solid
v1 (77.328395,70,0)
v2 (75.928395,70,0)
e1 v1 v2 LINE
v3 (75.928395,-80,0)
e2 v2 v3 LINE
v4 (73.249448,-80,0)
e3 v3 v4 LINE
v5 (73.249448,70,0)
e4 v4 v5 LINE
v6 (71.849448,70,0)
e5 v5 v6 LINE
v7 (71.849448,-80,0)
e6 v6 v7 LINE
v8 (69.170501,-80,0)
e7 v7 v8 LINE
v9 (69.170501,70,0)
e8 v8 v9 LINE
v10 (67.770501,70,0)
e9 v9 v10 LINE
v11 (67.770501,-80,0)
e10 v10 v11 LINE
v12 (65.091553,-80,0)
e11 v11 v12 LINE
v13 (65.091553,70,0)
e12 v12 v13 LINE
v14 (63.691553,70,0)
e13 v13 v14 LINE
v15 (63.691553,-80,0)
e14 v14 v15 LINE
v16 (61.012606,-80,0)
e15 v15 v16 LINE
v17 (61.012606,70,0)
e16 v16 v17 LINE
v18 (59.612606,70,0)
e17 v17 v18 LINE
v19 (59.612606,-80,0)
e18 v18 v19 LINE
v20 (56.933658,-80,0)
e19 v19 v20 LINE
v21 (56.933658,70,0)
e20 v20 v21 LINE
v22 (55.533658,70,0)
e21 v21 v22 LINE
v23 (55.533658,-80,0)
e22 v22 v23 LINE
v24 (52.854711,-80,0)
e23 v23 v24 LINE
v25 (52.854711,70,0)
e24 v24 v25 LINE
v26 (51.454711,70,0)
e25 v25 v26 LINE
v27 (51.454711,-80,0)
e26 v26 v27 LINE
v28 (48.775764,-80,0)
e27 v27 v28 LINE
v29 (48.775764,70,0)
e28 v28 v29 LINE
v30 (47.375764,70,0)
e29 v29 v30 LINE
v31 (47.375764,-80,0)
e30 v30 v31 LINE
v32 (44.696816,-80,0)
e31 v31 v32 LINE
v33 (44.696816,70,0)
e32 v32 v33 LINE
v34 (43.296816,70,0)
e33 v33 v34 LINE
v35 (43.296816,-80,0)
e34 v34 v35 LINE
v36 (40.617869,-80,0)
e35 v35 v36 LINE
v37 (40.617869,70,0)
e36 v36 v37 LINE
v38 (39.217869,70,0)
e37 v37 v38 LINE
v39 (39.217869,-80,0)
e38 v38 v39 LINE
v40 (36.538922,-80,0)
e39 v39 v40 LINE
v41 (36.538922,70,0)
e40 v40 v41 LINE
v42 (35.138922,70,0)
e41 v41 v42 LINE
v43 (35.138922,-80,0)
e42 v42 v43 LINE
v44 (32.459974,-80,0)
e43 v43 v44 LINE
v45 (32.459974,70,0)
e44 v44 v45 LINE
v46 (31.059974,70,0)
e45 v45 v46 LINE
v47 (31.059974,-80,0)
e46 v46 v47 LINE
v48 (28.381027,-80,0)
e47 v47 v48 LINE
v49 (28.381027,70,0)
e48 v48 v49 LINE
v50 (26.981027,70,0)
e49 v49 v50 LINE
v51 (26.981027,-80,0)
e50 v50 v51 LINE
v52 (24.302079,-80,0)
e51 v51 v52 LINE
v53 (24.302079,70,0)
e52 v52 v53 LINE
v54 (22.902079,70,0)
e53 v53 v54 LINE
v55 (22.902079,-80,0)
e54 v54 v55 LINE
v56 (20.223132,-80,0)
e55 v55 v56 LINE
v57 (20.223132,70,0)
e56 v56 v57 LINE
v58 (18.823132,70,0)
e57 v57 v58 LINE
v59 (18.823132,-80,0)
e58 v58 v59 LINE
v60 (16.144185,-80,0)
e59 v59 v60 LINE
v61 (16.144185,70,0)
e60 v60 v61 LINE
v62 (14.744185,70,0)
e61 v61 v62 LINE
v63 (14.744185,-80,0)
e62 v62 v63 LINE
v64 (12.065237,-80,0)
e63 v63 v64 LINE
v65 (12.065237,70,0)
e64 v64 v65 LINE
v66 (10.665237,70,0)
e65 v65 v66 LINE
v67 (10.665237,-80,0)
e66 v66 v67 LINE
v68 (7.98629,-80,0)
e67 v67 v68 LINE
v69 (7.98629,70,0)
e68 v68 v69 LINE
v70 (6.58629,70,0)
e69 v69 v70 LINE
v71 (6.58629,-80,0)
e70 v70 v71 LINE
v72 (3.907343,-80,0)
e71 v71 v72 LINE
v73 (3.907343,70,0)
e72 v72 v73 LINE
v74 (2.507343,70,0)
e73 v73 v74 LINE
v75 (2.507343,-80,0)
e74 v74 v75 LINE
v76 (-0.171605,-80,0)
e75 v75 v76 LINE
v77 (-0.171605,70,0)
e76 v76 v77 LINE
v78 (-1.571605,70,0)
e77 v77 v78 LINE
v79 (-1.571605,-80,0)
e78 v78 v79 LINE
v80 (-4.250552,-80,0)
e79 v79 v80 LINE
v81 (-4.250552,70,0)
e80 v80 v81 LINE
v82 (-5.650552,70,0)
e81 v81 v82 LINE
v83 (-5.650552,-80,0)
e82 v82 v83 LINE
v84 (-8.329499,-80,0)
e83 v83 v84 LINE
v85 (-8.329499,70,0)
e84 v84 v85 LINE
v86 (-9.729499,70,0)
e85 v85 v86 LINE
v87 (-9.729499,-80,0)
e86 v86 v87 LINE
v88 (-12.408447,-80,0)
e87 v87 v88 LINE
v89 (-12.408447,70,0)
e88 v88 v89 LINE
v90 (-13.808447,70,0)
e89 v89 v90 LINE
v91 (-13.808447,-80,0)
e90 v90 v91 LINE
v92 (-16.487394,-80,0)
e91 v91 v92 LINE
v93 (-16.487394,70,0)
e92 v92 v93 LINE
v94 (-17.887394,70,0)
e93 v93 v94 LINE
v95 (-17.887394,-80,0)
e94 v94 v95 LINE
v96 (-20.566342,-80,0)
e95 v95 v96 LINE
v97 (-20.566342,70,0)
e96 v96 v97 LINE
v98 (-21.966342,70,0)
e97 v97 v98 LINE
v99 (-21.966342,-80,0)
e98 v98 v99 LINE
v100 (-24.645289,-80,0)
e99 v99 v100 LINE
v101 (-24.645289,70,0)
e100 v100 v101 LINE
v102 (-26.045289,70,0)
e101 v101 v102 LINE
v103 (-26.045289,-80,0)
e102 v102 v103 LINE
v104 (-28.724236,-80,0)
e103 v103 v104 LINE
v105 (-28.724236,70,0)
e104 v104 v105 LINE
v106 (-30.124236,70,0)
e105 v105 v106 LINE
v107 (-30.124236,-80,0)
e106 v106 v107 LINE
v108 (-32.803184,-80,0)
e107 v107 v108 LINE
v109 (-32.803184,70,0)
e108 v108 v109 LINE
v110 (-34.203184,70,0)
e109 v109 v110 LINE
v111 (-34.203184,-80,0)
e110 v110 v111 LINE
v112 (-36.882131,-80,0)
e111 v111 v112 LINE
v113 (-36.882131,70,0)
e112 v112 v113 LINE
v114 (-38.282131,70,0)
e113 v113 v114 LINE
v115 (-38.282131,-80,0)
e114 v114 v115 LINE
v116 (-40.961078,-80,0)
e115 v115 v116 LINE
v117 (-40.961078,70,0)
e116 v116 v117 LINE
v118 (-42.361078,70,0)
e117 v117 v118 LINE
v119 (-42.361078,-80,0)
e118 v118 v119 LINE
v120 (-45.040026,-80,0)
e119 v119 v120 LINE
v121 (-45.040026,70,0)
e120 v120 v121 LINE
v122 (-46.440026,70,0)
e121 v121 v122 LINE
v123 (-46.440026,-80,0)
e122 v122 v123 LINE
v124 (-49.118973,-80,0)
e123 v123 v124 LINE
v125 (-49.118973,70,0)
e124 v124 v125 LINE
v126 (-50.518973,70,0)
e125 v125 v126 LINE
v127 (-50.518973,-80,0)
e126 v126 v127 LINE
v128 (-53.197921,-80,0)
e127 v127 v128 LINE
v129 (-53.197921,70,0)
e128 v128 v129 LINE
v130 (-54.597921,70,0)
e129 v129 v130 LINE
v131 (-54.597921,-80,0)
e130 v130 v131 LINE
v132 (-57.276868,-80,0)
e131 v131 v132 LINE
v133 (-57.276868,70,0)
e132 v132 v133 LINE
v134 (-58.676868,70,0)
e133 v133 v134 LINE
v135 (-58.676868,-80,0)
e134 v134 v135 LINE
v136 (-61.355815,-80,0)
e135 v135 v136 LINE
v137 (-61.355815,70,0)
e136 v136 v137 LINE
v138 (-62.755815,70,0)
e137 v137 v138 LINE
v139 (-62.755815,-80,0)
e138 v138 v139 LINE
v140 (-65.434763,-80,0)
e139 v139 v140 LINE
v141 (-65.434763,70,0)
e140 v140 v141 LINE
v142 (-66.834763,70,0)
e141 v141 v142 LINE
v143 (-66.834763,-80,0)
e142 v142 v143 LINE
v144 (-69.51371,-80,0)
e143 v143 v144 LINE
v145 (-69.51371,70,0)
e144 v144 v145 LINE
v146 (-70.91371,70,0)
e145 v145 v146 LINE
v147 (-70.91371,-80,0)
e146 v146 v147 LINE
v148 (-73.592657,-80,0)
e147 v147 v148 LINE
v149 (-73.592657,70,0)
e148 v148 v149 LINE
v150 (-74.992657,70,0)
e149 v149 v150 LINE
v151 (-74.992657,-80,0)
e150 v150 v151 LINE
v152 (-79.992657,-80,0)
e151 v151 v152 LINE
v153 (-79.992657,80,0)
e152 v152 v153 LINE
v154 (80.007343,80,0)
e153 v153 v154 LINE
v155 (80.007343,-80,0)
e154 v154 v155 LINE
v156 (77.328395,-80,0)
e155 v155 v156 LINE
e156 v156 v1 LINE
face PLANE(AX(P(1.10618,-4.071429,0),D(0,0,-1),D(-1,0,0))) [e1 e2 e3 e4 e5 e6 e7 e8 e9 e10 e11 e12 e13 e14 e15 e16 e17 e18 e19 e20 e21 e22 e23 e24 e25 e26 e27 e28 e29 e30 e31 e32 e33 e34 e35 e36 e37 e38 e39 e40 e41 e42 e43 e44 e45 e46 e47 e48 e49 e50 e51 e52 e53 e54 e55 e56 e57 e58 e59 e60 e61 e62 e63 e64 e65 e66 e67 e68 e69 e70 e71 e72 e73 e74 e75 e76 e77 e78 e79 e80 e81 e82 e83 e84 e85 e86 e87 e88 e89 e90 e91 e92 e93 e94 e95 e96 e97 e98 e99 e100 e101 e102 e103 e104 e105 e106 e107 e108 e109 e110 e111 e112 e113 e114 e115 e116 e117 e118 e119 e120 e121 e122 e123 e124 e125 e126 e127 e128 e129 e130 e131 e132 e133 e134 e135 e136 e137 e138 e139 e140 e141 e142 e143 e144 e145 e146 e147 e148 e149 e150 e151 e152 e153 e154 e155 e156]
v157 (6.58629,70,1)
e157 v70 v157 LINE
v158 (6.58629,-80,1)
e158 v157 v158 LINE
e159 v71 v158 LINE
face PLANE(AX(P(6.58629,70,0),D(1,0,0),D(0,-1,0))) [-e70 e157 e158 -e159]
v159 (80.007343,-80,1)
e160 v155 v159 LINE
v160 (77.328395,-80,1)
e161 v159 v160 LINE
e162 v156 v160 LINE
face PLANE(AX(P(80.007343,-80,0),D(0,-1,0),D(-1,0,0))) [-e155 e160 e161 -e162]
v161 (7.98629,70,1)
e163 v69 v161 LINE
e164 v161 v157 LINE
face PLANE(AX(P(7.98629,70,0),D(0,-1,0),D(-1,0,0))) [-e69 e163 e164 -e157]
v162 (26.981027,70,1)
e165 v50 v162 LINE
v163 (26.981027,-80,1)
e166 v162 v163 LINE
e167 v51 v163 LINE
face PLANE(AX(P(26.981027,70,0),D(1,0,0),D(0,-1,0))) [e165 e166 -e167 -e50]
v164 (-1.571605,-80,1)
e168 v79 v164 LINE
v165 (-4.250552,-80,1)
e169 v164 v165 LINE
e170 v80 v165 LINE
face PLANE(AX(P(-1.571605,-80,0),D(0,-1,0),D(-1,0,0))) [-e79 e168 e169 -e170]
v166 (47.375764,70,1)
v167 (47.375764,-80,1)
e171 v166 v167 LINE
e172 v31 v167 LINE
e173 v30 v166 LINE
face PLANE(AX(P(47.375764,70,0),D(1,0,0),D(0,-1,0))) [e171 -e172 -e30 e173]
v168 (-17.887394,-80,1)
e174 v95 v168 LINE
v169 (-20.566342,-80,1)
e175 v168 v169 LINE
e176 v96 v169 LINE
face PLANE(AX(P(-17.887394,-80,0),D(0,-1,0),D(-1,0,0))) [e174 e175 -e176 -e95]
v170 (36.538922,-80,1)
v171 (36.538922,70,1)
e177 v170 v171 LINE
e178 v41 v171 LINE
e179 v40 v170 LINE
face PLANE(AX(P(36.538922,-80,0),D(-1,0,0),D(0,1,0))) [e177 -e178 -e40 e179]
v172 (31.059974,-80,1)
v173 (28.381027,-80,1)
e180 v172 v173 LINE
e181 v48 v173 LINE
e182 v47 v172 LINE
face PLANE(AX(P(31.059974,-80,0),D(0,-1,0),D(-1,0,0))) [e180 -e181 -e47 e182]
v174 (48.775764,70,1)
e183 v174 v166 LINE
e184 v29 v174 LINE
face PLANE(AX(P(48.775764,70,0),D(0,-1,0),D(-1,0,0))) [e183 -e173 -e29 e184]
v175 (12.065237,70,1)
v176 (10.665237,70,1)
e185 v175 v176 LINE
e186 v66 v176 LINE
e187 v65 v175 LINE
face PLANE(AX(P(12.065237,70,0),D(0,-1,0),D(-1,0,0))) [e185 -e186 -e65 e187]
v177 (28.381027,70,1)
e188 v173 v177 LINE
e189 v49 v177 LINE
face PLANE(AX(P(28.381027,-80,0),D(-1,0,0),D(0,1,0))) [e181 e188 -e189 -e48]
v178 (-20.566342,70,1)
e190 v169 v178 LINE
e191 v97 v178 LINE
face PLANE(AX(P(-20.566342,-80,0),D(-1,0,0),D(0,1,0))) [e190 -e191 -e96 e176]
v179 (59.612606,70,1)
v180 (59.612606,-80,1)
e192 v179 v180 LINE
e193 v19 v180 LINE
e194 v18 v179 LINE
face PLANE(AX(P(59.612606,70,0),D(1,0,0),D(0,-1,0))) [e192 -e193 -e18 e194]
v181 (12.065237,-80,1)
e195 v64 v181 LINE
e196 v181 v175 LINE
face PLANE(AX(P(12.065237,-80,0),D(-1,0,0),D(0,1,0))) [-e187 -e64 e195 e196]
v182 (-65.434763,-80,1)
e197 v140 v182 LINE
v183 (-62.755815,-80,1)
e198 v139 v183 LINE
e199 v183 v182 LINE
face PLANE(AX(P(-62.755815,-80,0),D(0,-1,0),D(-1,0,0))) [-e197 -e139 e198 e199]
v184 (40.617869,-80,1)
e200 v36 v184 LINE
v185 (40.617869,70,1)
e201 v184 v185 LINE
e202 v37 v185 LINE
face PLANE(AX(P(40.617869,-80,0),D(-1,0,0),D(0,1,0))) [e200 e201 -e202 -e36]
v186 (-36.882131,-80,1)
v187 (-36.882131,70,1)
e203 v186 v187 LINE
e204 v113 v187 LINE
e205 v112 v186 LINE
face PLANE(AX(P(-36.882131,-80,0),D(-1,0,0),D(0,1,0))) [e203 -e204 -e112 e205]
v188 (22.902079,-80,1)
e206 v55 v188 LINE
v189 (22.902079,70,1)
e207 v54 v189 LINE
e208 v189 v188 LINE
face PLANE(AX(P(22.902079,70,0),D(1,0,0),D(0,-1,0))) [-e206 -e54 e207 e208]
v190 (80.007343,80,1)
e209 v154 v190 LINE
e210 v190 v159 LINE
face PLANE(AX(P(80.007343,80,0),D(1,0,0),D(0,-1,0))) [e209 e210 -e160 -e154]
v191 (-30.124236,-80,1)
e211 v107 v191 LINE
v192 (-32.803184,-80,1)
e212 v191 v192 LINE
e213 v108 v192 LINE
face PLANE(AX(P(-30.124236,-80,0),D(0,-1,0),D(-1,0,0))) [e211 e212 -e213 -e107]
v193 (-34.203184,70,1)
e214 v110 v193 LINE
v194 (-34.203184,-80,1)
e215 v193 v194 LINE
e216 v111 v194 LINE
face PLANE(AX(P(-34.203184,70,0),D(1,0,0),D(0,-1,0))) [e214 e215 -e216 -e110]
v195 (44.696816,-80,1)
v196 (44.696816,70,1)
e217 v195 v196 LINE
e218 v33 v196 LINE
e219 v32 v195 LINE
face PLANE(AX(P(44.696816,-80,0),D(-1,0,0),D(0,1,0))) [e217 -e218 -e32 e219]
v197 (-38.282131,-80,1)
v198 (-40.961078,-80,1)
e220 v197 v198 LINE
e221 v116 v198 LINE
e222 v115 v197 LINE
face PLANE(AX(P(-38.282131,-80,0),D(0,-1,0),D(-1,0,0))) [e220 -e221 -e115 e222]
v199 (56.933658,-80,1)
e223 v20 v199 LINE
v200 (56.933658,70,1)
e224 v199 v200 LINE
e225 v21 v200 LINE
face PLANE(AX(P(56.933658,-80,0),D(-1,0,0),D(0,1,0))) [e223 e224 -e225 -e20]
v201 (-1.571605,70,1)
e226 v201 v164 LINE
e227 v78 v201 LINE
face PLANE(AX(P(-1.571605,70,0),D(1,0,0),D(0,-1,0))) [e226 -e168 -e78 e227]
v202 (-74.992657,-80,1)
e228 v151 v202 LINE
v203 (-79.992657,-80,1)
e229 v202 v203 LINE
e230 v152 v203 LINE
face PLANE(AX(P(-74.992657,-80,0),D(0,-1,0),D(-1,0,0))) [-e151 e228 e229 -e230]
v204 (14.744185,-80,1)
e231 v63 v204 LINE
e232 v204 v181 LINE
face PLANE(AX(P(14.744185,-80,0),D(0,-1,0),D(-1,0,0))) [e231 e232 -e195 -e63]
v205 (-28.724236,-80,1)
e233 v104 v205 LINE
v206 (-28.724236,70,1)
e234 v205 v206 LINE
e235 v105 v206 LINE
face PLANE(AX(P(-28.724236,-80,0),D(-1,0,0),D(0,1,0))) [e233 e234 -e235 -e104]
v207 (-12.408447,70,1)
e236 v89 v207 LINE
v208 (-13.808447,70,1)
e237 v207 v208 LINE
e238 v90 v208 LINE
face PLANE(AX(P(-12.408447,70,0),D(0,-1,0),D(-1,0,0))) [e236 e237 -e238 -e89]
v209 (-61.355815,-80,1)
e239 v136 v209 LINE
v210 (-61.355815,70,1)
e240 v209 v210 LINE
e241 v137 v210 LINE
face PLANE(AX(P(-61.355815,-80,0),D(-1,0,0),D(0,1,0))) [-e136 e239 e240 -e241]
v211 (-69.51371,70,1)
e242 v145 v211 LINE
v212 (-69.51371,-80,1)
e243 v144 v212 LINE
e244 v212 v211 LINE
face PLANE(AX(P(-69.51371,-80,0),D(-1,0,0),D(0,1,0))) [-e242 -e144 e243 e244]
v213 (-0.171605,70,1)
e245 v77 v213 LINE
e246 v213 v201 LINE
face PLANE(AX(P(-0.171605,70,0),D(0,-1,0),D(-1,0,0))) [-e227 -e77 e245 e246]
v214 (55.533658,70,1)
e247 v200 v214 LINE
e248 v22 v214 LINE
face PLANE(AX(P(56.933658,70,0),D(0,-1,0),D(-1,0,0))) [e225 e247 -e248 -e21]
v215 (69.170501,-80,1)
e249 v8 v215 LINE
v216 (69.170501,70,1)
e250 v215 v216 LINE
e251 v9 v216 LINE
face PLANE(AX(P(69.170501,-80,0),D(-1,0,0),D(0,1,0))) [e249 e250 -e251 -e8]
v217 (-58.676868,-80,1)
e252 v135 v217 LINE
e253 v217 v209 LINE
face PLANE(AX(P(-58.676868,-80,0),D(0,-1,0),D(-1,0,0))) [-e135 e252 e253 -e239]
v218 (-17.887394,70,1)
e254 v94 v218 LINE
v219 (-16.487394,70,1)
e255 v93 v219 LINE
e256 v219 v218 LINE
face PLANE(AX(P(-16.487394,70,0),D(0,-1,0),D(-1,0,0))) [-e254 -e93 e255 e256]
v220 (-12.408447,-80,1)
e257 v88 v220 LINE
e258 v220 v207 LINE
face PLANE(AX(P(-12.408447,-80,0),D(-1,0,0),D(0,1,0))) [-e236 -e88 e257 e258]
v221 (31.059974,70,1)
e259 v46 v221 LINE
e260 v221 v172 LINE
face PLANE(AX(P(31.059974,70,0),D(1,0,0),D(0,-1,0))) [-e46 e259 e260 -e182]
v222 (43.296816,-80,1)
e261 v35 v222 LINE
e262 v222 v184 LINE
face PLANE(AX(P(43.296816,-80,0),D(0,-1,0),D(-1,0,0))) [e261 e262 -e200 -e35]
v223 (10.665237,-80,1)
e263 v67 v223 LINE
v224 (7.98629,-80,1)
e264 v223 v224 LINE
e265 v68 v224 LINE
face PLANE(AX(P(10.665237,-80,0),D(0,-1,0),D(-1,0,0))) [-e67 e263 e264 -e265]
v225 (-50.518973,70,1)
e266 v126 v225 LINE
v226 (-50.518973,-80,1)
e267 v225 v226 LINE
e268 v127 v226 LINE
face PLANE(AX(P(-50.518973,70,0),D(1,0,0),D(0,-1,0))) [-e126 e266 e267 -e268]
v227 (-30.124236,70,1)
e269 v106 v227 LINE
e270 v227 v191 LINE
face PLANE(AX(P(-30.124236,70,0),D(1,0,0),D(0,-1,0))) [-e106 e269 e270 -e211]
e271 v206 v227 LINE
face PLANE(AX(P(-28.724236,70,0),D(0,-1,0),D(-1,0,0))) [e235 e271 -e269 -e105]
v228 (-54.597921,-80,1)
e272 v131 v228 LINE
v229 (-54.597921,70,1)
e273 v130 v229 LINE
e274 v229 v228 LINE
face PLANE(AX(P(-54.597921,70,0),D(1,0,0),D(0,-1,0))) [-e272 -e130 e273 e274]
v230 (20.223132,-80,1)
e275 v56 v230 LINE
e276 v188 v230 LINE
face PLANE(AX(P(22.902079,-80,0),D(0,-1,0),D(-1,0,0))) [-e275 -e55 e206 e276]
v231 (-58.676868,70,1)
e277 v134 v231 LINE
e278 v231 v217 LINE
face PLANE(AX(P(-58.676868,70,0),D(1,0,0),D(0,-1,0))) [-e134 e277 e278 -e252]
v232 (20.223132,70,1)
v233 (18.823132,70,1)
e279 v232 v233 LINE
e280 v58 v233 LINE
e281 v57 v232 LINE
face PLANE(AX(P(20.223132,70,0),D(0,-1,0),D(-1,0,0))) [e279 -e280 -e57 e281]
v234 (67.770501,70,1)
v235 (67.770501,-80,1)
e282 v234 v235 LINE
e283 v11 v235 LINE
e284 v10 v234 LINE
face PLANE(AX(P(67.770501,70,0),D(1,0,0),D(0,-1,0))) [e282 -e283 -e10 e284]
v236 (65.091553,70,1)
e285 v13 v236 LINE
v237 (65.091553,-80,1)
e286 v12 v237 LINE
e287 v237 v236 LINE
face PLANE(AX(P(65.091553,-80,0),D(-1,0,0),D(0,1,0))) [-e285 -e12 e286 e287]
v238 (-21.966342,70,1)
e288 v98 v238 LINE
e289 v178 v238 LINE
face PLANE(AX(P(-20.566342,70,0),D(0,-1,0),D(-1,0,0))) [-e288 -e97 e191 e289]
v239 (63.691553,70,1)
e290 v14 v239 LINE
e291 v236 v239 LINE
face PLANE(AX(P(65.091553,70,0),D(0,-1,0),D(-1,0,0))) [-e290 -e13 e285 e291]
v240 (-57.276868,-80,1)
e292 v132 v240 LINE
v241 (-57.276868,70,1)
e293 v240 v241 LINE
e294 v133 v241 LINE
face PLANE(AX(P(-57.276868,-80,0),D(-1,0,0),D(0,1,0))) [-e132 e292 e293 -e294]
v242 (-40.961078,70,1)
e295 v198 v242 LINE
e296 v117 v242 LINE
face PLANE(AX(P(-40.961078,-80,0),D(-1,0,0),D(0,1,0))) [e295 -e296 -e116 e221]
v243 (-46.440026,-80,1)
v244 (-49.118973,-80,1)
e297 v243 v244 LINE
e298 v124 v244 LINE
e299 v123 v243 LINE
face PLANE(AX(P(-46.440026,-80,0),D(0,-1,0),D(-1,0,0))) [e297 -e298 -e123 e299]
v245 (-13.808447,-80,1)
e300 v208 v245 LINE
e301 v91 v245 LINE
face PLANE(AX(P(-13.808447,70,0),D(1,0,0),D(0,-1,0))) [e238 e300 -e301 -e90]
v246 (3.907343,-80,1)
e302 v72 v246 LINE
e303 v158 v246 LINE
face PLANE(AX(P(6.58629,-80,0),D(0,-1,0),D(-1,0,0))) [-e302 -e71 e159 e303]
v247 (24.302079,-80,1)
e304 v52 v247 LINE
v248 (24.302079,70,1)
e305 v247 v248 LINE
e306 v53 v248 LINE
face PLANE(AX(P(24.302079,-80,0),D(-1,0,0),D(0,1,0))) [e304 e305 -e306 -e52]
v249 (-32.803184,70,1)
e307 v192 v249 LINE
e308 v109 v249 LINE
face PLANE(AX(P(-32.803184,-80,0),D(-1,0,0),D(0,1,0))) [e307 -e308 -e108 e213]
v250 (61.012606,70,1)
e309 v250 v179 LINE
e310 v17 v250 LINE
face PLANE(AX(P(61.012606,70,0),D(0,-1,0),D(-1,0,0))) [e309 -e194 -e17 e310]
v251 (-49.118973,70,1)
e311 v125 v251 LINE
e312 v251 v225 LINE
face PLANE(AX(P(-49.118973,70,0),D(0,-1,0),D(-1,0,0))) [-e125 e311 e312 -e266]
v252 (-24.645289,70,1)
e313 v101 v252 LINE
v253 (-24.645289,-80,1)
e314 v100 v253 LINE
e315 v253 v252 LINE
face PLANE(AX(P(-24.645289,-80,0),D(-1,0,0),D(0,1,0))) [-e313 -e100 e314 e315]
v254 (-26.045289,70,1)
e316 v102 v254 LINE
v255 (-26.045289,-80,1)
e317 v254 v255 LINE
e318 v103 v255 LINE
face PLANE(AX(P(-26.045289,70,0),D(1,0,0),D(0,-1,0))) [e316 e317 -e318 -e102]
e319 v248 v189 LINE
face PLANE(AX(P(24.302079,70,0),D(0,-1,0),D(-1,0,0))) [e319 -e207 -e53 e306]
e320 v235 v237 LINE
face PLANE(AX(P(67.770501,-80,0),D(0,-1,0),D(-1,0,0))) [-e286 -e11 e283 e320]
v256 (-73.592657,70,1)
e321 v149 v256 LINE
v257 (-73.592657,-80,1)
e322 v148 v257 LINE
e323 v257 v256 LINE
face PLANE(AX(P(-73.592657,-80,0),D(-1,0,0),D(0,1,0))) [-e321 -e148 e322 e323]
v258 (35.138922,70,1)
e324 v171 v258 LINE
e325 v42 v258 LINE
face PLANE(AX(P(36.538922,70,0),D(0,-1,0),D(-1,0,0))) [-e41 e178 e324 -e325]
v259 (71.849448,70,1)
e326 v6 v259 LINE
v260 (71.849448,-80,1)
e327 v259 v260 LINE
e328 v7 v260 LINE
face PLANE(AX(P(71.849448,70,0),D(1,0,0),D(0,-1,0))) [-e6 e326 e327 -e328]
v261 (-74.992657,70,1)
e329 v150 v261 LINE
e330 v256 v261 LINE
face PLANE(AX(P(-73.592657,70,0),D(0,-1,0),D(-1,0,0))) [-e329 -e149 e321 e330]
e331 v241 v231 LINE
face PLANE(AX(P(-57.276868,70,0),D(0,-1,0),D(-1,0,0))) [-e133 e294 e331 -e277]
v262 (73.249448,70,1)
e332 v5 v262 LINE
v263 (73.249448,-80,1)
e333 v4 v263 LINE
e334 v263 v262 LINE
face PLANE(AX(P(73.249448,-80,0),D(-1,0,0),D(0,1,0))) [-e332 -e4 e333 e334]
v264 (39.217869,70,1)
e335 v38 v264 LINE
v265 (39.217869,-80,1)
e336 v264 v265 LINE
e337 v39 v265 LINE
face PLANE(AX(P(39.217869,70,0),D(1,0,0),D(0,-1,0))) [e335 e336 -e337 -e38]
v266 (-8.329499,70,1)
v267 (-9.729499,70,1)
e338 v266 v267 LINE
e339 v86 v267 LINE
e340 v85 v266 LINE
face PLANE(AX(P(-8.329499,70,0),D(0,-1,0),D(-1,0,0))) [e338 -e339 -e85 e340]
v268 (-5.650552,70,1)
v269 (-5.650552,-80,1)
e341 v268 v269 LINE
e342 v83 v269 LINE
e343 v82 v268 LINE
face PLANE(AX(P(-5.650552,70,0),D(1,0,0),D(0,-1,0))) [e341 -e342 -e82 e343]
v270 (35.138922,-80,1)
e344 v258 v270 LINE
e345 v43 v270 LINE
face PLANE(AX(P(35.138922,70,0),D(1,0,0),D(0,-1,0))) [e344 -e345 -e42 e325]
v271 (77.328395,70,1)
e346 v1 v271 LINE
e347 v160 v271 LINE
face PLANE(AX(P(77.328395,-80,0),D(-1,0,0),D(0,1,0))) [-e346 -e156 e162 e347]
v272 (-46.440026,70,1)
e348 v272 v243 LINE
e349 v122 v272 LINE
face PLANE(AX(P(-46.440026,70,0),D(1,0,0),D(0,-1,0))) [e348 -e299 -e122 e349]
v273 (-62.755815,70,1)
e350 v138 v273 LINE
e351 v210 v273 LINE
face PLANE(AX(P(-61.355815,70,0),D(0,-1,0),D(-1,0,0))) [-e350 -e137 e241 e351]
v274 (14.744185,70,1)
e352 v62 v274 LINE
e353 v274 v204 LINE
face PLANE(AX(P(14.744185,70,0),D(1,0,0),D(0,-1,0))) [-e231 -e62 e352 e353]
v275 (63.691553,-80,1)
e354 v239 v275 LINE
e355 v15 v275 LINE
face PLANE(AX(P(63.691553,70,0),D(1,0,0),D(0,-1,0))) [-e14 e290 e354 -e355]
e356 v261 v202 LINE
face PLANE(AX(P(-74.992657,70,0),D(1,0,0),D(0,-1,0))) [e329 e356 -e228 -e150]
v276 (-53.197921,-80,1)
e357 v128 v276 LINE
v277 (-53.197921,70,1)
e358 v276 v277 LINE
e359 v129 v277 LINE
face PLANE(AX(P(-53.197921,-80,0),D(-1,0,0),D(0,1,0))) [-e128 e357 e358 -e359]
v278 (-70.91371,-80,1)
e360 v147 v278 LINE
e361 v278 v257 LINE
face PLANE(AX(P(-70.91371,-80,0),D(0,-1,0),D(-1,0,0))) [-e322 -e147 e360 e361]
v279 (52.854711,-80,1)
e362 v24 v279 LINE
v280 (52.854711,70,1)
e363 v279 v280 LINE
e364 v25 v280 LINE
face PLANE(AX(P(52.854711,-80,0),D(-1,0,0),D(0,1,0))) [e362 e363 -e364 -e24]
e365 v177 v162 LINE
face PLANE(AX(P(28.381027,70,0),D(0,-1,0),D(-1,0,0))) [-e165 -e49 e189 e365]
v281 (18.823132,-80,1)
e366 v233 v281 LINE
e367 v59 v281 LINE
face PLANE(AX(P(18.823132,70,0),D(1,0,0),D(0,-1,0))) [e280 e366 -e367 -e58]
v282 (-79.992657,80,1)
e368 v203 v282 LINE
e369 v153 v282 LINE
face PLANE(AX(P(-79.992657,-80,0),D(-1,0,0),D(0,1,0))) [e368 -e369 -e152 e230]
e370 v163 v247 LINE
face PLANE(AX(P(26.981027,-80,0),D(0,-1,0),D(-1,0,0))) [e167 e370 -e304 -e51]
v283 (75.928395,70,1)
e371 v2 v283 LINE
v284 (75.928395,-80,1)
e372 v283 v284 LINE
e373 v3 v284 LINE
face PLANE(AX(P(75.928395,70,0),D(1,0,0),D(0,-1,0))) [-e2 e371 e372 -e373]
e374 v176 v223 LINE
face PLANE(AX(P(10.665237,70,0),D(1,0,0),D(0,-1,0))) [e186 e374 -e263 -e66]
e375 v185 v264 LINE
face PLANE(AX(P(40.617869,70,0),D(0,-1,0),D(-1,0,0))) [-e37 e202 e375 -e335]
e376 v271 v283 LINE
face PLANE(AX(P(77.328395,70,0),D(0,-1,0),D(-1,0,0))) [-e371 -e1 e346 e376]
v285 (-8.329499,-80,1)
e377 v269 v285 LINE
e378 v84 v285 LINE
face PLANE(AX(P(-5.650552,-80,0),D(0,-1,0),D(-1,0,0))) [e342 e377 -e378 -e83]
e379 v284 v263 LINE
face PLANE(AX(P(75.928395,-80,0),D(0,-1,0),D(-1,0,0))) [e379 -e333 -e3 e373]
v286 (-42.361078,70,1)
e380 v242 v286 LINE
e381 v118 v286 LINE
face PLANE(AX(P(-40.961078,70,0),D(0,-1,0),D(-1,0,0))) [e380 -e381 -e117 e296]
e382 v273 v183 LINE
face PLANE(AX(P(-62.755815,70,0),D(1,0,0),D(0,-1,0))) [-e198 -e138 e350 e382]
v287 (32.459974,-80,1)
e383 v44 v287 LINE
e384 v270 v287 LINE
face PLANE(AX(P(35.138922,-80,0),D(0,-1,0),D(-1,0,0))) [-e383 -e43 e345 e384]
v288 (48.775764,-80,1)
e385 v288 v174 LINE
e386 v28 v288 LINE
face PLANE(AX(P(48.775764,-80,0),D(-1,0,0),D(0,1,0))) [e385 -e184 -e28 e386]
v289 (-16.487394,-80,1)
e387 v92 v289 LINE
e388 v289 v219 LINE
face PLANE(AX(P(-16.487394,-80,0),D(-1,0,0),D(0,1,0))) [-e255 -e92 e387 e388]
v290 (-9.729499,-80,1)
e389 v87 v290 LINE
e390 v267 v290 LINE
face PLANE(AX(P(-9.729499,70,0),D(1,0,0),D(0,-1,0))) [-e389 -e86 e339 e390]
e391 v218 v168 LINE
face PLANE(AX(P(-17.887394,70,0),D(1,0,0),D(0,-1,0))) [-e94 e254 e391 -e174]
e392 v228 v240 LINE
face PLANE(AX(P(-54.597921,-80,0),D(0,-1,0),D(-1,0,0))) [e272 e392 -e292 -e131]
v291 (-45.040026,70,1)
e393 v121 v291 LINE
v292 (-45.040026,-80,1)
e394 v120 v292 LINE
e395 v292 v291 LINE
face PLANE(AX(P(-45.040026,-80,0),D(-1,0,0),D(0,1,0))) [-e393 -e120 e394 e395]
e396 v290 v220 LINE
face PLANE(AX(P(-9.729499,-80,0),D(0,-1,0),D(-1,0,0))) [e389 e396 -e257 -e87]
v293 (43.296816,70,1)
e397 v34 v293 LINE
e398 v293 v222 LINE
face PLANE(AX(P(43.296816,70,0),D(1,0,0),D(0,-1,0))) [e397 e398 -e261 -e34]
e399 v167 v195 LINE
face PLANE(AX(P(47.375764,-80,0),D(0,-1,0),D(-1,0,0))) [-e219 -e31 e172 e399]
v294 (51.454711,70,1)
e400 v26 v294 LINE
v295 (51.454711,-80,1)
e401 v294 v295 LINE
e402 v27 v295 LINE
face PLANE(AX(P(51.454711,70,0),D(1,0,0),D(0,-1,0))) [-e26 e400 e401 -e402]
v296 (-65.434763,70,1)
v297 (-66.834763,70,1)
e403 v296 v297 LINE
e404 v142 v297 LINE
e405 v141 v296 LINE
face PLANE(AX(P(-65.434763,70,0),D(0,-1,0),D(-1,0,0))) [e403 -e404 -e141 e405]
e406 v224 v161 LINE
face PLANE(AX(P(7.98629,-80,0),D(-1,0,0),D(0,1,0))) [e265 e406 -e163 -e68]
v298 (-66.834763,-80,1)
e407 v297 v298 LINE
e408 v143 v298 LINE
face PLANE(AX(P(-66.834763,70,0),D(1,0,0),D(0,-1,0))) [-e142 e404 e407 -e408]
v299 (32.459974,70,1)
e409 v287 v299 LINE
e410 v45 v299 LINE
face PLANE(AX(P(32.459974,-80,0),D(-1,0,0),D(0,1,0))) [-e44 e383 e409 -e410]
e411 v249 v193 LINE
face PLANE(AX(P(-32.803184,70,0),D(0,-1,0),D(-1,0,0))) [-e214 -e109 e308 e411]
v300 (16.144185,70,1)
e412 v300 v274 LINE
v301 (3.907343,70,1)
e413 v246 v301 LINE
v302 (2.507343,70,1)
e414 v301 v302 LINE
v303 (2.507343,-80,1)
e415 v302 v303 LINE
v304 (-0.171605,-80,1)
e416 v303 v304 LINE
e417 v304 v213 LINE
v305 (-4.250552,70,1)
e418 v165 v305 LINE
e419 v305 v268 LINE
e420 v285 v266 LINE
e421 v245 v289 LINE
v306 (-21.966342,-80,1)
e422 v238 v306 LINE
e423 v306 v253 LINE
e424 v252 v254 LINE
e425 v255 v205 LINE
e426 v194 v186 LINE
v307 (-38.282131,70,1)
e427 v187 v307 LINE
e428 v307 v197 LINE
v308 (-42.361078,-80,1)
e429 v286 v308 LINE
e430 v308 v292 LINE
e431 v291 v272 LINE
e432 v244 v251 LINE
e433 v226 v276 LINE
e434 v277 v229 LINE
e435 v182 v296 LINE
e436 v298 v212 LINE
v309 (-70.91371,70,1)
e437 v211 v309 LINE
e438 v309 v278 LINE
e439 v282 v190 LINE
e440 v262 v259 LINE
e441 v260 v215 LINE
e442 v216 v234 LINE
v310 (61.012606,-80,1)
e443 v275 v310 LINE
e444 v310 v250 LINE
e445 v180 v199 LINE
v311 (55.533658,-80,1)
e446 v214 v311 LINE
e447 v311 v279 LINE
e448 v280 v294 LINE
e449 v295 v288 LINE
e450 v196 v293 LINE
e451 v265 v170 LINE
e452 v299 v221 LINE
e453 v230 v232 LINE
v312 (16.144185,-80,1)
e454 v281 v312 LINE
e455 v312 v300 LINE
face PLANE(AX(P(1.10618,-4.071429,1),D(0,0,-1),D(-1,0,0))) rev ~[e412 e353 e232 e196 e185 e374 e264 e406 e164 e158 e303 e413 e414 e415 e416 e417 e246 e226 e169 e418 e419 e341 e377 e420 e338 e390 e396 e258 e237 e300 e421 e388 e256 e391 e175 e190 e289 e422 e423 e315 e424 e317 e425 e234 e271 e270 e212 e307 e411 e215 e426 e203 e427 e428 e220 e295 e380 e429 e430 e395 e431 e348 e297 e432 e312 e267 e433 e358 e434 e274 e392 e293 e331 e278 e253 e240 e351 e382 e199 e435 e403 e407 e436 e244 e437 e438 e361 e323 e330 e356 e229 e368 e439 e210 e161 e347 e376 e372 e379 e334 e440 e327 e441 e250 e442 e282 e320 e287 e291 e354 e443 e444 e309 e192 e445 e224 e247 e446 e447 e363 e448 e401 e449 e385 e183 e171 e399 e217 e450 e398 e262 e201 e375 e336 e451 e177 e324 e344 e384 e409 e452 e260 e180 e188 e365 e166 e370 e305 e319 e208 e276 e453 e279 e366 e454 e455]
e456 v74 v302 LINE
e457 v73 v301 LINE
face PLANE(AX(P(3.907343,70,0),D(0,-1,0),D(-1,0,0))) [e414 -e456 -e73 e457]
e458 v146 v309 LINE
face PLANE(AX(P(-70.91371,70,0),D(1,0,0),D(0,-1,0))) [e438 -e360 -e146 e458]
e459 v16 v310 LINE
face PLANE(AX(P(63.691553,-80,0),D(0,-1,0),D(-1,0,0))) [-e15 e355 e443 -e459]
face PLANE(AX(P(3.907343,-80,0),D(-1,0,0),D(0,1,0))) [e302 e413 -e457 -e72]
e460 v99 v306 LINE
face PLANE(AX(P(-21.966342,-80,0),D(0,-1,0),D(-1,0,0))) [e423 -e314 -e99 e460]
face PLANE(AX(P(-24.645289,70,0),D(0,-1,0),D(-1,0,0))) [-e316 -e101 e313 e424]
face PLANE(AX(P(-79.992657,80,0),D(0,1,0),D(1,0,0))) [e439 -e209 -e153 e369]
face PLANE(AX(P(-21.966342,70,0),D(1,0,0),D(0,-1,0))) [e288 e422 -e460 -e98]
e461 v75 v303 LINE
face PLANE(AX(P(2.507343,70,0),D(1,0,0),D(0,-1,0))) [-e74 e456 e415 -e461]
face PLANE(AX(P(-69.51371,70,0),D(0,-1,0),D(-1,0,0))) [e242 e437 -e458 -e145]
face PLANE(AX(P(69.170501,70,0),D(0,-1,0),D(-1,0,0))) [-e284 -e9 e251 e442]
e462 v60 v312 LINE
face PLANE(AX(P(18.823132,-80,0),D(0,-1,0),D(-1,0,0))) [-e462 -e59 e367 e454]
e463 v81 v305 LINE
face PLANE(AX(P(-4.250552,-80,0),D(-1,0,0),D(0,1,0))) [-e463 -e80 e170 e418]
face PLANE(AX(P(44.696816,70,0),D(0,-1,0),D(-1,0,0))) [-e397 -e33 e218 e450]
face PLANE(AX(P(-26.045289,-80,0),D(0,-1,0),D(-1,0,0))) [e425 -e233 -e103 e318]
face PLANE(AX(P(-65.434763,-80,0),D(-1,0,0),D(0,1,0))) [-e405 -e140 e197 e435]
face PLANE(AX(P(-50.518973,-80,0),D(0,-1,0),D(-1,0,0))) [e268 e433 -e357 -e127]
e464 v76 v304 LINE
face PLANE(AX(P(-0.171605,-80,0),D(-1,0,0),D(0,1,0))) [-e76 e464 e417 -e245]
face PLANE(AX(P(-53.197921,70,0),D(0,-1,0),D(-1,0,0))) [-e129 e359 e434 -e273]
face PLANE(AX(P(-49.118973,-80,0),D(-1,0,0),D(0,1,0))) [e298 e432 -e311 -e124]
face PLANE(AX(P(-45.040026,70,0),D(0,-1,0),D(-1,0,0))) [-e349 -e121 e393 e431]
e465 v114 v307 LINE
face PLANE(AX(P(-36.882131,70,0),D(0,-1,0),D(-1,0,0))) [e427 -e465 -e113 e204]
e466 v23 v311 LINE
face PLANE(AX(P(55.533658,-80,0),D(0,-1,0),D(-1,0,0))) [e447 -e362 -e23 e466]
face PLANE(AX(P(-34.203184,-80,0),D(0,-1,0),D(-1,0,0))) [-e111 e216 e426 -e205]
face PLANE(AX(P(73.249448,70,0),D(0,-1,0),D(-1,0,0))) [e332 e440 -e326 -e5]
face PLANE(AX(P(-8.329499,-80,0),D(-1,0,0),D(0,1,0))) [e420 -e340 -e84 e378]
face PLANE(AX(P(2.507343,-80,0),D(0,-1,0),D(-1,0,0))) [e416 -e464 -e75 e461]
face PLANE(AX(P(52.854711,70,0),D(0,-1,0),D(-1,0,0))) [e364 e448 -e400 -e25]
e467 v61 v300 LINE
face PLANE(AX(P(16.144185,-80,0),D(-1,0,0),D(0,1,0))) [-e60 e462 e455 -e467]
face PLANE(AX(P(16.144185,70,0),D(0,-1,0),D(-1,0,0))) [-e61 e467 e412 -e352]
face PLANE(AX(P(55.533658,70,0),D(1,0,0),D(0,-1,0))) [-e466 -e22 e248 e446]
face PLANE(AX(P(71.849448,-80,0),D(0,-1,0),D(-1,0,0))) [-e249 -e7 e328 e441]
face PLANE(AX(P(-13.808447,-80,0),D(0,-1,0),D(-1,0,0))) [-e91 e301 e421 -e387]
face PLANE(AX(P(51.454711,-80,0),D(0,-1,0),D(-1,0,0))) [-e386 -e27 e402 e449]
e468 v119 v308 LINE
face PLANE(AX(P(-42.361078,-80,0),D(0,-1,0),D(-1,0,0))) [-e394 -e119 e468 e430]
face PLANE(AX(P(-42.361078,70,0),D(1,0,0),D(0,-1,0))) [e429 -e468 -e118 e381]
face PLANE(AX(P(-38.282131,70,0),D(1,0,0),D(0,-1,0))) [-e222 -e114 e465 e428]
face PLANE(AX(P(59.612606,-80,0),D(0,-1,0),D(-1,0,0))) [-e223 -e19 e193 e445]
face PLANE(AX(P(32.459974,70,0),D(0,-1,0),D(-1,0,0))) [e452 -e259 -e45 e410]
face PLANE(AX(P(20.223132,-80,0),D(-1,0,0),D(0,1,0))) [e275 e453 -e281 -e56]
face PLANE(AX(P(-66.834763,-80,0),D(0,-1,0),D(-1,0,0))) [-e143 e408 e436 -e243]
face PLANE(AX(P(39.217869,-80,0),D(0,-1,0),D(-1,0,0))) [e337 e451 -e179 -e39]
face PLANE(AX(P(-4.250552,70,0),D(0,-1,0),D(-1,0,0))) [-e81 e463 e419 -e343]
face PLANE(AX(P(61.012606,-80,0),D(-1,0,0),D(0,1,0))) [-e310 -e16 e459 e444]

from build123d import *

# Parameters (mm, degrees)
EXTRUDE_2_DEPTH = 1


with BuildPart() as part:
    # 草图1 → 凸台-拉伸2 (new body)
    with BuildSketch(Plane.XY):
        Polygon((-74.992657391, 70), (-74.992657391, -80), (-79.992657391, -80), (-79.992657391, 80), (80.007342609, 80), (80.007342609, -80), (77.328395241, -80), (77.328395241, 70), (75.928395241, 70), (75.928395241, -80), (73.249447872, -80), (73.249447872, 70), (71.849447872, 70), (71.849447872, -80), (69.170500504, -80), (69.170500504, 70), (67.770500504, 70), (67.770500504, -80), (65.091553135, -80), (65.091553135, 70), (63.691553135, 70), (63.691553135, -80), (61.012605767, -80), (61.012605767, 70), (59.612605767, 70), (59.612605767, -80), (56.933658398, -80), (56.933658398, 70), (55.533658398, 70), (55.533658398, -80), (52.85471103, -80), (52.85471103, 70), (51.45471103, 70), (51.45471103, -80), (48.775763662, -80), (48.775763662, 70), (47.375763662, 70), (47.375763662, -80), (44.696816293, -80), (44.696816293, 70), (43.296816293, 70), (43.296816293, -80), (40.617868925, -80), (40.617868925, 70), (39.217868925, 70), (39.217868925, -80), (36.538921556, -80), (36.538921556, 70), (35.138921556, 70), (35.138921556, -80), (32.459974188, -80), (32.459974188, 70), (31.059974188, 70), (31.059974188, -80), (28.381026819, -80), (28.381026819, 70), (26.981026819, 70), (26.981026819, -80), (24.302079451, -80), (24.302079451, 70), (22.902079451, 70), (22.902079451, -80), (20.223132083, -80), (20.223132083, 70), (18.823132083, 70), (18.823132083, -80), (16.144184714, -80), (16.144184714, 70), (14.744184714, 70), (14.744184714, -80), (12.065237346, -80), (12.065237346, 70), (10.665237346, 70), (10.665237346, -80), (7.986289977, -80), (7.986289977, 70), (6.586289977, 70), (6.586289977, -80), (3.907342609, -80), (3.907342609, 70), (2.507342609, 70), (2.507342609, -80), (-0.171604759, -80), (-0.171604759, 70), (-1.571604759, 70), (-1.571604759, -80), (-4.250552128, -80), (-4.250552128, 70), (-5.650552128, 70), (-5.650552128, -80), (-8.329499496, -80), (-8.329499496, 70), (-9.729499496, 70), (-9.729499496, -80), (-12.408446865, -80), (-12.408446865, 70), (-13.808446865, 70), (-13.808446865, -80), (-16.487394233, -80), (-16.487394233, 70), (-17.887394233, 70), (-17.887394233, -80), (-20.566341602, -80), (-20.566341602, 70), (-21.966341602, 70), (-21.966341602, -80), (-24.64528897, -80), (-24.64528897, 70), (-26.04528897, 70), (-26.04528897, -80), (-28.724236338, -80), (-28.724236338, 70), (-30.124236338, 70), (-30.124236338, -80), (-32.803183707, -80), (-32.803183707, 70), (-34.203183707, 70), (-34.203183707, -80), (-36.882131075, -80), (-36.882131075, 70), (-38.282131075, 70), (-38.282131075, -80), (-40.961078444, -80), (-40.961078444, 70), (-42.361078444, 70), (-42.361078444, -80), (-45.040025812, -80), (-45.040025812, 70), (-46.440025812, 70), (-46.440025812, -80), (-49.118973181, -80), (-49.118973181, 70), (-50.518973181, 70), (-50.518973181, -80), (-53.197920549, -80), (-53.197920549, 70), (-54.597920549, 70), (-54.597920549, -80), (-57.276867917, -80), (-57.276867917, 70), (-58.676867917, 70), (-58.676867917, -80), (-61.355815286, -80), (-61.355815286, 70), (-62.755815286, 70), (-62.755815286, -80), (-65.434762654, -80), (-65.434762654, 70), (-66.834762654, 70), (-66.834762654, -80), (-69.513710023, -80), (-69.513710023, 70), (-70.913710023, 70), (-70.913710023, -80), (-73.592657391, -80), (-73.592657391, 70), align=None)
    extrude(amount=EXTRUDE_2_DEPTH)


solid = part.part
